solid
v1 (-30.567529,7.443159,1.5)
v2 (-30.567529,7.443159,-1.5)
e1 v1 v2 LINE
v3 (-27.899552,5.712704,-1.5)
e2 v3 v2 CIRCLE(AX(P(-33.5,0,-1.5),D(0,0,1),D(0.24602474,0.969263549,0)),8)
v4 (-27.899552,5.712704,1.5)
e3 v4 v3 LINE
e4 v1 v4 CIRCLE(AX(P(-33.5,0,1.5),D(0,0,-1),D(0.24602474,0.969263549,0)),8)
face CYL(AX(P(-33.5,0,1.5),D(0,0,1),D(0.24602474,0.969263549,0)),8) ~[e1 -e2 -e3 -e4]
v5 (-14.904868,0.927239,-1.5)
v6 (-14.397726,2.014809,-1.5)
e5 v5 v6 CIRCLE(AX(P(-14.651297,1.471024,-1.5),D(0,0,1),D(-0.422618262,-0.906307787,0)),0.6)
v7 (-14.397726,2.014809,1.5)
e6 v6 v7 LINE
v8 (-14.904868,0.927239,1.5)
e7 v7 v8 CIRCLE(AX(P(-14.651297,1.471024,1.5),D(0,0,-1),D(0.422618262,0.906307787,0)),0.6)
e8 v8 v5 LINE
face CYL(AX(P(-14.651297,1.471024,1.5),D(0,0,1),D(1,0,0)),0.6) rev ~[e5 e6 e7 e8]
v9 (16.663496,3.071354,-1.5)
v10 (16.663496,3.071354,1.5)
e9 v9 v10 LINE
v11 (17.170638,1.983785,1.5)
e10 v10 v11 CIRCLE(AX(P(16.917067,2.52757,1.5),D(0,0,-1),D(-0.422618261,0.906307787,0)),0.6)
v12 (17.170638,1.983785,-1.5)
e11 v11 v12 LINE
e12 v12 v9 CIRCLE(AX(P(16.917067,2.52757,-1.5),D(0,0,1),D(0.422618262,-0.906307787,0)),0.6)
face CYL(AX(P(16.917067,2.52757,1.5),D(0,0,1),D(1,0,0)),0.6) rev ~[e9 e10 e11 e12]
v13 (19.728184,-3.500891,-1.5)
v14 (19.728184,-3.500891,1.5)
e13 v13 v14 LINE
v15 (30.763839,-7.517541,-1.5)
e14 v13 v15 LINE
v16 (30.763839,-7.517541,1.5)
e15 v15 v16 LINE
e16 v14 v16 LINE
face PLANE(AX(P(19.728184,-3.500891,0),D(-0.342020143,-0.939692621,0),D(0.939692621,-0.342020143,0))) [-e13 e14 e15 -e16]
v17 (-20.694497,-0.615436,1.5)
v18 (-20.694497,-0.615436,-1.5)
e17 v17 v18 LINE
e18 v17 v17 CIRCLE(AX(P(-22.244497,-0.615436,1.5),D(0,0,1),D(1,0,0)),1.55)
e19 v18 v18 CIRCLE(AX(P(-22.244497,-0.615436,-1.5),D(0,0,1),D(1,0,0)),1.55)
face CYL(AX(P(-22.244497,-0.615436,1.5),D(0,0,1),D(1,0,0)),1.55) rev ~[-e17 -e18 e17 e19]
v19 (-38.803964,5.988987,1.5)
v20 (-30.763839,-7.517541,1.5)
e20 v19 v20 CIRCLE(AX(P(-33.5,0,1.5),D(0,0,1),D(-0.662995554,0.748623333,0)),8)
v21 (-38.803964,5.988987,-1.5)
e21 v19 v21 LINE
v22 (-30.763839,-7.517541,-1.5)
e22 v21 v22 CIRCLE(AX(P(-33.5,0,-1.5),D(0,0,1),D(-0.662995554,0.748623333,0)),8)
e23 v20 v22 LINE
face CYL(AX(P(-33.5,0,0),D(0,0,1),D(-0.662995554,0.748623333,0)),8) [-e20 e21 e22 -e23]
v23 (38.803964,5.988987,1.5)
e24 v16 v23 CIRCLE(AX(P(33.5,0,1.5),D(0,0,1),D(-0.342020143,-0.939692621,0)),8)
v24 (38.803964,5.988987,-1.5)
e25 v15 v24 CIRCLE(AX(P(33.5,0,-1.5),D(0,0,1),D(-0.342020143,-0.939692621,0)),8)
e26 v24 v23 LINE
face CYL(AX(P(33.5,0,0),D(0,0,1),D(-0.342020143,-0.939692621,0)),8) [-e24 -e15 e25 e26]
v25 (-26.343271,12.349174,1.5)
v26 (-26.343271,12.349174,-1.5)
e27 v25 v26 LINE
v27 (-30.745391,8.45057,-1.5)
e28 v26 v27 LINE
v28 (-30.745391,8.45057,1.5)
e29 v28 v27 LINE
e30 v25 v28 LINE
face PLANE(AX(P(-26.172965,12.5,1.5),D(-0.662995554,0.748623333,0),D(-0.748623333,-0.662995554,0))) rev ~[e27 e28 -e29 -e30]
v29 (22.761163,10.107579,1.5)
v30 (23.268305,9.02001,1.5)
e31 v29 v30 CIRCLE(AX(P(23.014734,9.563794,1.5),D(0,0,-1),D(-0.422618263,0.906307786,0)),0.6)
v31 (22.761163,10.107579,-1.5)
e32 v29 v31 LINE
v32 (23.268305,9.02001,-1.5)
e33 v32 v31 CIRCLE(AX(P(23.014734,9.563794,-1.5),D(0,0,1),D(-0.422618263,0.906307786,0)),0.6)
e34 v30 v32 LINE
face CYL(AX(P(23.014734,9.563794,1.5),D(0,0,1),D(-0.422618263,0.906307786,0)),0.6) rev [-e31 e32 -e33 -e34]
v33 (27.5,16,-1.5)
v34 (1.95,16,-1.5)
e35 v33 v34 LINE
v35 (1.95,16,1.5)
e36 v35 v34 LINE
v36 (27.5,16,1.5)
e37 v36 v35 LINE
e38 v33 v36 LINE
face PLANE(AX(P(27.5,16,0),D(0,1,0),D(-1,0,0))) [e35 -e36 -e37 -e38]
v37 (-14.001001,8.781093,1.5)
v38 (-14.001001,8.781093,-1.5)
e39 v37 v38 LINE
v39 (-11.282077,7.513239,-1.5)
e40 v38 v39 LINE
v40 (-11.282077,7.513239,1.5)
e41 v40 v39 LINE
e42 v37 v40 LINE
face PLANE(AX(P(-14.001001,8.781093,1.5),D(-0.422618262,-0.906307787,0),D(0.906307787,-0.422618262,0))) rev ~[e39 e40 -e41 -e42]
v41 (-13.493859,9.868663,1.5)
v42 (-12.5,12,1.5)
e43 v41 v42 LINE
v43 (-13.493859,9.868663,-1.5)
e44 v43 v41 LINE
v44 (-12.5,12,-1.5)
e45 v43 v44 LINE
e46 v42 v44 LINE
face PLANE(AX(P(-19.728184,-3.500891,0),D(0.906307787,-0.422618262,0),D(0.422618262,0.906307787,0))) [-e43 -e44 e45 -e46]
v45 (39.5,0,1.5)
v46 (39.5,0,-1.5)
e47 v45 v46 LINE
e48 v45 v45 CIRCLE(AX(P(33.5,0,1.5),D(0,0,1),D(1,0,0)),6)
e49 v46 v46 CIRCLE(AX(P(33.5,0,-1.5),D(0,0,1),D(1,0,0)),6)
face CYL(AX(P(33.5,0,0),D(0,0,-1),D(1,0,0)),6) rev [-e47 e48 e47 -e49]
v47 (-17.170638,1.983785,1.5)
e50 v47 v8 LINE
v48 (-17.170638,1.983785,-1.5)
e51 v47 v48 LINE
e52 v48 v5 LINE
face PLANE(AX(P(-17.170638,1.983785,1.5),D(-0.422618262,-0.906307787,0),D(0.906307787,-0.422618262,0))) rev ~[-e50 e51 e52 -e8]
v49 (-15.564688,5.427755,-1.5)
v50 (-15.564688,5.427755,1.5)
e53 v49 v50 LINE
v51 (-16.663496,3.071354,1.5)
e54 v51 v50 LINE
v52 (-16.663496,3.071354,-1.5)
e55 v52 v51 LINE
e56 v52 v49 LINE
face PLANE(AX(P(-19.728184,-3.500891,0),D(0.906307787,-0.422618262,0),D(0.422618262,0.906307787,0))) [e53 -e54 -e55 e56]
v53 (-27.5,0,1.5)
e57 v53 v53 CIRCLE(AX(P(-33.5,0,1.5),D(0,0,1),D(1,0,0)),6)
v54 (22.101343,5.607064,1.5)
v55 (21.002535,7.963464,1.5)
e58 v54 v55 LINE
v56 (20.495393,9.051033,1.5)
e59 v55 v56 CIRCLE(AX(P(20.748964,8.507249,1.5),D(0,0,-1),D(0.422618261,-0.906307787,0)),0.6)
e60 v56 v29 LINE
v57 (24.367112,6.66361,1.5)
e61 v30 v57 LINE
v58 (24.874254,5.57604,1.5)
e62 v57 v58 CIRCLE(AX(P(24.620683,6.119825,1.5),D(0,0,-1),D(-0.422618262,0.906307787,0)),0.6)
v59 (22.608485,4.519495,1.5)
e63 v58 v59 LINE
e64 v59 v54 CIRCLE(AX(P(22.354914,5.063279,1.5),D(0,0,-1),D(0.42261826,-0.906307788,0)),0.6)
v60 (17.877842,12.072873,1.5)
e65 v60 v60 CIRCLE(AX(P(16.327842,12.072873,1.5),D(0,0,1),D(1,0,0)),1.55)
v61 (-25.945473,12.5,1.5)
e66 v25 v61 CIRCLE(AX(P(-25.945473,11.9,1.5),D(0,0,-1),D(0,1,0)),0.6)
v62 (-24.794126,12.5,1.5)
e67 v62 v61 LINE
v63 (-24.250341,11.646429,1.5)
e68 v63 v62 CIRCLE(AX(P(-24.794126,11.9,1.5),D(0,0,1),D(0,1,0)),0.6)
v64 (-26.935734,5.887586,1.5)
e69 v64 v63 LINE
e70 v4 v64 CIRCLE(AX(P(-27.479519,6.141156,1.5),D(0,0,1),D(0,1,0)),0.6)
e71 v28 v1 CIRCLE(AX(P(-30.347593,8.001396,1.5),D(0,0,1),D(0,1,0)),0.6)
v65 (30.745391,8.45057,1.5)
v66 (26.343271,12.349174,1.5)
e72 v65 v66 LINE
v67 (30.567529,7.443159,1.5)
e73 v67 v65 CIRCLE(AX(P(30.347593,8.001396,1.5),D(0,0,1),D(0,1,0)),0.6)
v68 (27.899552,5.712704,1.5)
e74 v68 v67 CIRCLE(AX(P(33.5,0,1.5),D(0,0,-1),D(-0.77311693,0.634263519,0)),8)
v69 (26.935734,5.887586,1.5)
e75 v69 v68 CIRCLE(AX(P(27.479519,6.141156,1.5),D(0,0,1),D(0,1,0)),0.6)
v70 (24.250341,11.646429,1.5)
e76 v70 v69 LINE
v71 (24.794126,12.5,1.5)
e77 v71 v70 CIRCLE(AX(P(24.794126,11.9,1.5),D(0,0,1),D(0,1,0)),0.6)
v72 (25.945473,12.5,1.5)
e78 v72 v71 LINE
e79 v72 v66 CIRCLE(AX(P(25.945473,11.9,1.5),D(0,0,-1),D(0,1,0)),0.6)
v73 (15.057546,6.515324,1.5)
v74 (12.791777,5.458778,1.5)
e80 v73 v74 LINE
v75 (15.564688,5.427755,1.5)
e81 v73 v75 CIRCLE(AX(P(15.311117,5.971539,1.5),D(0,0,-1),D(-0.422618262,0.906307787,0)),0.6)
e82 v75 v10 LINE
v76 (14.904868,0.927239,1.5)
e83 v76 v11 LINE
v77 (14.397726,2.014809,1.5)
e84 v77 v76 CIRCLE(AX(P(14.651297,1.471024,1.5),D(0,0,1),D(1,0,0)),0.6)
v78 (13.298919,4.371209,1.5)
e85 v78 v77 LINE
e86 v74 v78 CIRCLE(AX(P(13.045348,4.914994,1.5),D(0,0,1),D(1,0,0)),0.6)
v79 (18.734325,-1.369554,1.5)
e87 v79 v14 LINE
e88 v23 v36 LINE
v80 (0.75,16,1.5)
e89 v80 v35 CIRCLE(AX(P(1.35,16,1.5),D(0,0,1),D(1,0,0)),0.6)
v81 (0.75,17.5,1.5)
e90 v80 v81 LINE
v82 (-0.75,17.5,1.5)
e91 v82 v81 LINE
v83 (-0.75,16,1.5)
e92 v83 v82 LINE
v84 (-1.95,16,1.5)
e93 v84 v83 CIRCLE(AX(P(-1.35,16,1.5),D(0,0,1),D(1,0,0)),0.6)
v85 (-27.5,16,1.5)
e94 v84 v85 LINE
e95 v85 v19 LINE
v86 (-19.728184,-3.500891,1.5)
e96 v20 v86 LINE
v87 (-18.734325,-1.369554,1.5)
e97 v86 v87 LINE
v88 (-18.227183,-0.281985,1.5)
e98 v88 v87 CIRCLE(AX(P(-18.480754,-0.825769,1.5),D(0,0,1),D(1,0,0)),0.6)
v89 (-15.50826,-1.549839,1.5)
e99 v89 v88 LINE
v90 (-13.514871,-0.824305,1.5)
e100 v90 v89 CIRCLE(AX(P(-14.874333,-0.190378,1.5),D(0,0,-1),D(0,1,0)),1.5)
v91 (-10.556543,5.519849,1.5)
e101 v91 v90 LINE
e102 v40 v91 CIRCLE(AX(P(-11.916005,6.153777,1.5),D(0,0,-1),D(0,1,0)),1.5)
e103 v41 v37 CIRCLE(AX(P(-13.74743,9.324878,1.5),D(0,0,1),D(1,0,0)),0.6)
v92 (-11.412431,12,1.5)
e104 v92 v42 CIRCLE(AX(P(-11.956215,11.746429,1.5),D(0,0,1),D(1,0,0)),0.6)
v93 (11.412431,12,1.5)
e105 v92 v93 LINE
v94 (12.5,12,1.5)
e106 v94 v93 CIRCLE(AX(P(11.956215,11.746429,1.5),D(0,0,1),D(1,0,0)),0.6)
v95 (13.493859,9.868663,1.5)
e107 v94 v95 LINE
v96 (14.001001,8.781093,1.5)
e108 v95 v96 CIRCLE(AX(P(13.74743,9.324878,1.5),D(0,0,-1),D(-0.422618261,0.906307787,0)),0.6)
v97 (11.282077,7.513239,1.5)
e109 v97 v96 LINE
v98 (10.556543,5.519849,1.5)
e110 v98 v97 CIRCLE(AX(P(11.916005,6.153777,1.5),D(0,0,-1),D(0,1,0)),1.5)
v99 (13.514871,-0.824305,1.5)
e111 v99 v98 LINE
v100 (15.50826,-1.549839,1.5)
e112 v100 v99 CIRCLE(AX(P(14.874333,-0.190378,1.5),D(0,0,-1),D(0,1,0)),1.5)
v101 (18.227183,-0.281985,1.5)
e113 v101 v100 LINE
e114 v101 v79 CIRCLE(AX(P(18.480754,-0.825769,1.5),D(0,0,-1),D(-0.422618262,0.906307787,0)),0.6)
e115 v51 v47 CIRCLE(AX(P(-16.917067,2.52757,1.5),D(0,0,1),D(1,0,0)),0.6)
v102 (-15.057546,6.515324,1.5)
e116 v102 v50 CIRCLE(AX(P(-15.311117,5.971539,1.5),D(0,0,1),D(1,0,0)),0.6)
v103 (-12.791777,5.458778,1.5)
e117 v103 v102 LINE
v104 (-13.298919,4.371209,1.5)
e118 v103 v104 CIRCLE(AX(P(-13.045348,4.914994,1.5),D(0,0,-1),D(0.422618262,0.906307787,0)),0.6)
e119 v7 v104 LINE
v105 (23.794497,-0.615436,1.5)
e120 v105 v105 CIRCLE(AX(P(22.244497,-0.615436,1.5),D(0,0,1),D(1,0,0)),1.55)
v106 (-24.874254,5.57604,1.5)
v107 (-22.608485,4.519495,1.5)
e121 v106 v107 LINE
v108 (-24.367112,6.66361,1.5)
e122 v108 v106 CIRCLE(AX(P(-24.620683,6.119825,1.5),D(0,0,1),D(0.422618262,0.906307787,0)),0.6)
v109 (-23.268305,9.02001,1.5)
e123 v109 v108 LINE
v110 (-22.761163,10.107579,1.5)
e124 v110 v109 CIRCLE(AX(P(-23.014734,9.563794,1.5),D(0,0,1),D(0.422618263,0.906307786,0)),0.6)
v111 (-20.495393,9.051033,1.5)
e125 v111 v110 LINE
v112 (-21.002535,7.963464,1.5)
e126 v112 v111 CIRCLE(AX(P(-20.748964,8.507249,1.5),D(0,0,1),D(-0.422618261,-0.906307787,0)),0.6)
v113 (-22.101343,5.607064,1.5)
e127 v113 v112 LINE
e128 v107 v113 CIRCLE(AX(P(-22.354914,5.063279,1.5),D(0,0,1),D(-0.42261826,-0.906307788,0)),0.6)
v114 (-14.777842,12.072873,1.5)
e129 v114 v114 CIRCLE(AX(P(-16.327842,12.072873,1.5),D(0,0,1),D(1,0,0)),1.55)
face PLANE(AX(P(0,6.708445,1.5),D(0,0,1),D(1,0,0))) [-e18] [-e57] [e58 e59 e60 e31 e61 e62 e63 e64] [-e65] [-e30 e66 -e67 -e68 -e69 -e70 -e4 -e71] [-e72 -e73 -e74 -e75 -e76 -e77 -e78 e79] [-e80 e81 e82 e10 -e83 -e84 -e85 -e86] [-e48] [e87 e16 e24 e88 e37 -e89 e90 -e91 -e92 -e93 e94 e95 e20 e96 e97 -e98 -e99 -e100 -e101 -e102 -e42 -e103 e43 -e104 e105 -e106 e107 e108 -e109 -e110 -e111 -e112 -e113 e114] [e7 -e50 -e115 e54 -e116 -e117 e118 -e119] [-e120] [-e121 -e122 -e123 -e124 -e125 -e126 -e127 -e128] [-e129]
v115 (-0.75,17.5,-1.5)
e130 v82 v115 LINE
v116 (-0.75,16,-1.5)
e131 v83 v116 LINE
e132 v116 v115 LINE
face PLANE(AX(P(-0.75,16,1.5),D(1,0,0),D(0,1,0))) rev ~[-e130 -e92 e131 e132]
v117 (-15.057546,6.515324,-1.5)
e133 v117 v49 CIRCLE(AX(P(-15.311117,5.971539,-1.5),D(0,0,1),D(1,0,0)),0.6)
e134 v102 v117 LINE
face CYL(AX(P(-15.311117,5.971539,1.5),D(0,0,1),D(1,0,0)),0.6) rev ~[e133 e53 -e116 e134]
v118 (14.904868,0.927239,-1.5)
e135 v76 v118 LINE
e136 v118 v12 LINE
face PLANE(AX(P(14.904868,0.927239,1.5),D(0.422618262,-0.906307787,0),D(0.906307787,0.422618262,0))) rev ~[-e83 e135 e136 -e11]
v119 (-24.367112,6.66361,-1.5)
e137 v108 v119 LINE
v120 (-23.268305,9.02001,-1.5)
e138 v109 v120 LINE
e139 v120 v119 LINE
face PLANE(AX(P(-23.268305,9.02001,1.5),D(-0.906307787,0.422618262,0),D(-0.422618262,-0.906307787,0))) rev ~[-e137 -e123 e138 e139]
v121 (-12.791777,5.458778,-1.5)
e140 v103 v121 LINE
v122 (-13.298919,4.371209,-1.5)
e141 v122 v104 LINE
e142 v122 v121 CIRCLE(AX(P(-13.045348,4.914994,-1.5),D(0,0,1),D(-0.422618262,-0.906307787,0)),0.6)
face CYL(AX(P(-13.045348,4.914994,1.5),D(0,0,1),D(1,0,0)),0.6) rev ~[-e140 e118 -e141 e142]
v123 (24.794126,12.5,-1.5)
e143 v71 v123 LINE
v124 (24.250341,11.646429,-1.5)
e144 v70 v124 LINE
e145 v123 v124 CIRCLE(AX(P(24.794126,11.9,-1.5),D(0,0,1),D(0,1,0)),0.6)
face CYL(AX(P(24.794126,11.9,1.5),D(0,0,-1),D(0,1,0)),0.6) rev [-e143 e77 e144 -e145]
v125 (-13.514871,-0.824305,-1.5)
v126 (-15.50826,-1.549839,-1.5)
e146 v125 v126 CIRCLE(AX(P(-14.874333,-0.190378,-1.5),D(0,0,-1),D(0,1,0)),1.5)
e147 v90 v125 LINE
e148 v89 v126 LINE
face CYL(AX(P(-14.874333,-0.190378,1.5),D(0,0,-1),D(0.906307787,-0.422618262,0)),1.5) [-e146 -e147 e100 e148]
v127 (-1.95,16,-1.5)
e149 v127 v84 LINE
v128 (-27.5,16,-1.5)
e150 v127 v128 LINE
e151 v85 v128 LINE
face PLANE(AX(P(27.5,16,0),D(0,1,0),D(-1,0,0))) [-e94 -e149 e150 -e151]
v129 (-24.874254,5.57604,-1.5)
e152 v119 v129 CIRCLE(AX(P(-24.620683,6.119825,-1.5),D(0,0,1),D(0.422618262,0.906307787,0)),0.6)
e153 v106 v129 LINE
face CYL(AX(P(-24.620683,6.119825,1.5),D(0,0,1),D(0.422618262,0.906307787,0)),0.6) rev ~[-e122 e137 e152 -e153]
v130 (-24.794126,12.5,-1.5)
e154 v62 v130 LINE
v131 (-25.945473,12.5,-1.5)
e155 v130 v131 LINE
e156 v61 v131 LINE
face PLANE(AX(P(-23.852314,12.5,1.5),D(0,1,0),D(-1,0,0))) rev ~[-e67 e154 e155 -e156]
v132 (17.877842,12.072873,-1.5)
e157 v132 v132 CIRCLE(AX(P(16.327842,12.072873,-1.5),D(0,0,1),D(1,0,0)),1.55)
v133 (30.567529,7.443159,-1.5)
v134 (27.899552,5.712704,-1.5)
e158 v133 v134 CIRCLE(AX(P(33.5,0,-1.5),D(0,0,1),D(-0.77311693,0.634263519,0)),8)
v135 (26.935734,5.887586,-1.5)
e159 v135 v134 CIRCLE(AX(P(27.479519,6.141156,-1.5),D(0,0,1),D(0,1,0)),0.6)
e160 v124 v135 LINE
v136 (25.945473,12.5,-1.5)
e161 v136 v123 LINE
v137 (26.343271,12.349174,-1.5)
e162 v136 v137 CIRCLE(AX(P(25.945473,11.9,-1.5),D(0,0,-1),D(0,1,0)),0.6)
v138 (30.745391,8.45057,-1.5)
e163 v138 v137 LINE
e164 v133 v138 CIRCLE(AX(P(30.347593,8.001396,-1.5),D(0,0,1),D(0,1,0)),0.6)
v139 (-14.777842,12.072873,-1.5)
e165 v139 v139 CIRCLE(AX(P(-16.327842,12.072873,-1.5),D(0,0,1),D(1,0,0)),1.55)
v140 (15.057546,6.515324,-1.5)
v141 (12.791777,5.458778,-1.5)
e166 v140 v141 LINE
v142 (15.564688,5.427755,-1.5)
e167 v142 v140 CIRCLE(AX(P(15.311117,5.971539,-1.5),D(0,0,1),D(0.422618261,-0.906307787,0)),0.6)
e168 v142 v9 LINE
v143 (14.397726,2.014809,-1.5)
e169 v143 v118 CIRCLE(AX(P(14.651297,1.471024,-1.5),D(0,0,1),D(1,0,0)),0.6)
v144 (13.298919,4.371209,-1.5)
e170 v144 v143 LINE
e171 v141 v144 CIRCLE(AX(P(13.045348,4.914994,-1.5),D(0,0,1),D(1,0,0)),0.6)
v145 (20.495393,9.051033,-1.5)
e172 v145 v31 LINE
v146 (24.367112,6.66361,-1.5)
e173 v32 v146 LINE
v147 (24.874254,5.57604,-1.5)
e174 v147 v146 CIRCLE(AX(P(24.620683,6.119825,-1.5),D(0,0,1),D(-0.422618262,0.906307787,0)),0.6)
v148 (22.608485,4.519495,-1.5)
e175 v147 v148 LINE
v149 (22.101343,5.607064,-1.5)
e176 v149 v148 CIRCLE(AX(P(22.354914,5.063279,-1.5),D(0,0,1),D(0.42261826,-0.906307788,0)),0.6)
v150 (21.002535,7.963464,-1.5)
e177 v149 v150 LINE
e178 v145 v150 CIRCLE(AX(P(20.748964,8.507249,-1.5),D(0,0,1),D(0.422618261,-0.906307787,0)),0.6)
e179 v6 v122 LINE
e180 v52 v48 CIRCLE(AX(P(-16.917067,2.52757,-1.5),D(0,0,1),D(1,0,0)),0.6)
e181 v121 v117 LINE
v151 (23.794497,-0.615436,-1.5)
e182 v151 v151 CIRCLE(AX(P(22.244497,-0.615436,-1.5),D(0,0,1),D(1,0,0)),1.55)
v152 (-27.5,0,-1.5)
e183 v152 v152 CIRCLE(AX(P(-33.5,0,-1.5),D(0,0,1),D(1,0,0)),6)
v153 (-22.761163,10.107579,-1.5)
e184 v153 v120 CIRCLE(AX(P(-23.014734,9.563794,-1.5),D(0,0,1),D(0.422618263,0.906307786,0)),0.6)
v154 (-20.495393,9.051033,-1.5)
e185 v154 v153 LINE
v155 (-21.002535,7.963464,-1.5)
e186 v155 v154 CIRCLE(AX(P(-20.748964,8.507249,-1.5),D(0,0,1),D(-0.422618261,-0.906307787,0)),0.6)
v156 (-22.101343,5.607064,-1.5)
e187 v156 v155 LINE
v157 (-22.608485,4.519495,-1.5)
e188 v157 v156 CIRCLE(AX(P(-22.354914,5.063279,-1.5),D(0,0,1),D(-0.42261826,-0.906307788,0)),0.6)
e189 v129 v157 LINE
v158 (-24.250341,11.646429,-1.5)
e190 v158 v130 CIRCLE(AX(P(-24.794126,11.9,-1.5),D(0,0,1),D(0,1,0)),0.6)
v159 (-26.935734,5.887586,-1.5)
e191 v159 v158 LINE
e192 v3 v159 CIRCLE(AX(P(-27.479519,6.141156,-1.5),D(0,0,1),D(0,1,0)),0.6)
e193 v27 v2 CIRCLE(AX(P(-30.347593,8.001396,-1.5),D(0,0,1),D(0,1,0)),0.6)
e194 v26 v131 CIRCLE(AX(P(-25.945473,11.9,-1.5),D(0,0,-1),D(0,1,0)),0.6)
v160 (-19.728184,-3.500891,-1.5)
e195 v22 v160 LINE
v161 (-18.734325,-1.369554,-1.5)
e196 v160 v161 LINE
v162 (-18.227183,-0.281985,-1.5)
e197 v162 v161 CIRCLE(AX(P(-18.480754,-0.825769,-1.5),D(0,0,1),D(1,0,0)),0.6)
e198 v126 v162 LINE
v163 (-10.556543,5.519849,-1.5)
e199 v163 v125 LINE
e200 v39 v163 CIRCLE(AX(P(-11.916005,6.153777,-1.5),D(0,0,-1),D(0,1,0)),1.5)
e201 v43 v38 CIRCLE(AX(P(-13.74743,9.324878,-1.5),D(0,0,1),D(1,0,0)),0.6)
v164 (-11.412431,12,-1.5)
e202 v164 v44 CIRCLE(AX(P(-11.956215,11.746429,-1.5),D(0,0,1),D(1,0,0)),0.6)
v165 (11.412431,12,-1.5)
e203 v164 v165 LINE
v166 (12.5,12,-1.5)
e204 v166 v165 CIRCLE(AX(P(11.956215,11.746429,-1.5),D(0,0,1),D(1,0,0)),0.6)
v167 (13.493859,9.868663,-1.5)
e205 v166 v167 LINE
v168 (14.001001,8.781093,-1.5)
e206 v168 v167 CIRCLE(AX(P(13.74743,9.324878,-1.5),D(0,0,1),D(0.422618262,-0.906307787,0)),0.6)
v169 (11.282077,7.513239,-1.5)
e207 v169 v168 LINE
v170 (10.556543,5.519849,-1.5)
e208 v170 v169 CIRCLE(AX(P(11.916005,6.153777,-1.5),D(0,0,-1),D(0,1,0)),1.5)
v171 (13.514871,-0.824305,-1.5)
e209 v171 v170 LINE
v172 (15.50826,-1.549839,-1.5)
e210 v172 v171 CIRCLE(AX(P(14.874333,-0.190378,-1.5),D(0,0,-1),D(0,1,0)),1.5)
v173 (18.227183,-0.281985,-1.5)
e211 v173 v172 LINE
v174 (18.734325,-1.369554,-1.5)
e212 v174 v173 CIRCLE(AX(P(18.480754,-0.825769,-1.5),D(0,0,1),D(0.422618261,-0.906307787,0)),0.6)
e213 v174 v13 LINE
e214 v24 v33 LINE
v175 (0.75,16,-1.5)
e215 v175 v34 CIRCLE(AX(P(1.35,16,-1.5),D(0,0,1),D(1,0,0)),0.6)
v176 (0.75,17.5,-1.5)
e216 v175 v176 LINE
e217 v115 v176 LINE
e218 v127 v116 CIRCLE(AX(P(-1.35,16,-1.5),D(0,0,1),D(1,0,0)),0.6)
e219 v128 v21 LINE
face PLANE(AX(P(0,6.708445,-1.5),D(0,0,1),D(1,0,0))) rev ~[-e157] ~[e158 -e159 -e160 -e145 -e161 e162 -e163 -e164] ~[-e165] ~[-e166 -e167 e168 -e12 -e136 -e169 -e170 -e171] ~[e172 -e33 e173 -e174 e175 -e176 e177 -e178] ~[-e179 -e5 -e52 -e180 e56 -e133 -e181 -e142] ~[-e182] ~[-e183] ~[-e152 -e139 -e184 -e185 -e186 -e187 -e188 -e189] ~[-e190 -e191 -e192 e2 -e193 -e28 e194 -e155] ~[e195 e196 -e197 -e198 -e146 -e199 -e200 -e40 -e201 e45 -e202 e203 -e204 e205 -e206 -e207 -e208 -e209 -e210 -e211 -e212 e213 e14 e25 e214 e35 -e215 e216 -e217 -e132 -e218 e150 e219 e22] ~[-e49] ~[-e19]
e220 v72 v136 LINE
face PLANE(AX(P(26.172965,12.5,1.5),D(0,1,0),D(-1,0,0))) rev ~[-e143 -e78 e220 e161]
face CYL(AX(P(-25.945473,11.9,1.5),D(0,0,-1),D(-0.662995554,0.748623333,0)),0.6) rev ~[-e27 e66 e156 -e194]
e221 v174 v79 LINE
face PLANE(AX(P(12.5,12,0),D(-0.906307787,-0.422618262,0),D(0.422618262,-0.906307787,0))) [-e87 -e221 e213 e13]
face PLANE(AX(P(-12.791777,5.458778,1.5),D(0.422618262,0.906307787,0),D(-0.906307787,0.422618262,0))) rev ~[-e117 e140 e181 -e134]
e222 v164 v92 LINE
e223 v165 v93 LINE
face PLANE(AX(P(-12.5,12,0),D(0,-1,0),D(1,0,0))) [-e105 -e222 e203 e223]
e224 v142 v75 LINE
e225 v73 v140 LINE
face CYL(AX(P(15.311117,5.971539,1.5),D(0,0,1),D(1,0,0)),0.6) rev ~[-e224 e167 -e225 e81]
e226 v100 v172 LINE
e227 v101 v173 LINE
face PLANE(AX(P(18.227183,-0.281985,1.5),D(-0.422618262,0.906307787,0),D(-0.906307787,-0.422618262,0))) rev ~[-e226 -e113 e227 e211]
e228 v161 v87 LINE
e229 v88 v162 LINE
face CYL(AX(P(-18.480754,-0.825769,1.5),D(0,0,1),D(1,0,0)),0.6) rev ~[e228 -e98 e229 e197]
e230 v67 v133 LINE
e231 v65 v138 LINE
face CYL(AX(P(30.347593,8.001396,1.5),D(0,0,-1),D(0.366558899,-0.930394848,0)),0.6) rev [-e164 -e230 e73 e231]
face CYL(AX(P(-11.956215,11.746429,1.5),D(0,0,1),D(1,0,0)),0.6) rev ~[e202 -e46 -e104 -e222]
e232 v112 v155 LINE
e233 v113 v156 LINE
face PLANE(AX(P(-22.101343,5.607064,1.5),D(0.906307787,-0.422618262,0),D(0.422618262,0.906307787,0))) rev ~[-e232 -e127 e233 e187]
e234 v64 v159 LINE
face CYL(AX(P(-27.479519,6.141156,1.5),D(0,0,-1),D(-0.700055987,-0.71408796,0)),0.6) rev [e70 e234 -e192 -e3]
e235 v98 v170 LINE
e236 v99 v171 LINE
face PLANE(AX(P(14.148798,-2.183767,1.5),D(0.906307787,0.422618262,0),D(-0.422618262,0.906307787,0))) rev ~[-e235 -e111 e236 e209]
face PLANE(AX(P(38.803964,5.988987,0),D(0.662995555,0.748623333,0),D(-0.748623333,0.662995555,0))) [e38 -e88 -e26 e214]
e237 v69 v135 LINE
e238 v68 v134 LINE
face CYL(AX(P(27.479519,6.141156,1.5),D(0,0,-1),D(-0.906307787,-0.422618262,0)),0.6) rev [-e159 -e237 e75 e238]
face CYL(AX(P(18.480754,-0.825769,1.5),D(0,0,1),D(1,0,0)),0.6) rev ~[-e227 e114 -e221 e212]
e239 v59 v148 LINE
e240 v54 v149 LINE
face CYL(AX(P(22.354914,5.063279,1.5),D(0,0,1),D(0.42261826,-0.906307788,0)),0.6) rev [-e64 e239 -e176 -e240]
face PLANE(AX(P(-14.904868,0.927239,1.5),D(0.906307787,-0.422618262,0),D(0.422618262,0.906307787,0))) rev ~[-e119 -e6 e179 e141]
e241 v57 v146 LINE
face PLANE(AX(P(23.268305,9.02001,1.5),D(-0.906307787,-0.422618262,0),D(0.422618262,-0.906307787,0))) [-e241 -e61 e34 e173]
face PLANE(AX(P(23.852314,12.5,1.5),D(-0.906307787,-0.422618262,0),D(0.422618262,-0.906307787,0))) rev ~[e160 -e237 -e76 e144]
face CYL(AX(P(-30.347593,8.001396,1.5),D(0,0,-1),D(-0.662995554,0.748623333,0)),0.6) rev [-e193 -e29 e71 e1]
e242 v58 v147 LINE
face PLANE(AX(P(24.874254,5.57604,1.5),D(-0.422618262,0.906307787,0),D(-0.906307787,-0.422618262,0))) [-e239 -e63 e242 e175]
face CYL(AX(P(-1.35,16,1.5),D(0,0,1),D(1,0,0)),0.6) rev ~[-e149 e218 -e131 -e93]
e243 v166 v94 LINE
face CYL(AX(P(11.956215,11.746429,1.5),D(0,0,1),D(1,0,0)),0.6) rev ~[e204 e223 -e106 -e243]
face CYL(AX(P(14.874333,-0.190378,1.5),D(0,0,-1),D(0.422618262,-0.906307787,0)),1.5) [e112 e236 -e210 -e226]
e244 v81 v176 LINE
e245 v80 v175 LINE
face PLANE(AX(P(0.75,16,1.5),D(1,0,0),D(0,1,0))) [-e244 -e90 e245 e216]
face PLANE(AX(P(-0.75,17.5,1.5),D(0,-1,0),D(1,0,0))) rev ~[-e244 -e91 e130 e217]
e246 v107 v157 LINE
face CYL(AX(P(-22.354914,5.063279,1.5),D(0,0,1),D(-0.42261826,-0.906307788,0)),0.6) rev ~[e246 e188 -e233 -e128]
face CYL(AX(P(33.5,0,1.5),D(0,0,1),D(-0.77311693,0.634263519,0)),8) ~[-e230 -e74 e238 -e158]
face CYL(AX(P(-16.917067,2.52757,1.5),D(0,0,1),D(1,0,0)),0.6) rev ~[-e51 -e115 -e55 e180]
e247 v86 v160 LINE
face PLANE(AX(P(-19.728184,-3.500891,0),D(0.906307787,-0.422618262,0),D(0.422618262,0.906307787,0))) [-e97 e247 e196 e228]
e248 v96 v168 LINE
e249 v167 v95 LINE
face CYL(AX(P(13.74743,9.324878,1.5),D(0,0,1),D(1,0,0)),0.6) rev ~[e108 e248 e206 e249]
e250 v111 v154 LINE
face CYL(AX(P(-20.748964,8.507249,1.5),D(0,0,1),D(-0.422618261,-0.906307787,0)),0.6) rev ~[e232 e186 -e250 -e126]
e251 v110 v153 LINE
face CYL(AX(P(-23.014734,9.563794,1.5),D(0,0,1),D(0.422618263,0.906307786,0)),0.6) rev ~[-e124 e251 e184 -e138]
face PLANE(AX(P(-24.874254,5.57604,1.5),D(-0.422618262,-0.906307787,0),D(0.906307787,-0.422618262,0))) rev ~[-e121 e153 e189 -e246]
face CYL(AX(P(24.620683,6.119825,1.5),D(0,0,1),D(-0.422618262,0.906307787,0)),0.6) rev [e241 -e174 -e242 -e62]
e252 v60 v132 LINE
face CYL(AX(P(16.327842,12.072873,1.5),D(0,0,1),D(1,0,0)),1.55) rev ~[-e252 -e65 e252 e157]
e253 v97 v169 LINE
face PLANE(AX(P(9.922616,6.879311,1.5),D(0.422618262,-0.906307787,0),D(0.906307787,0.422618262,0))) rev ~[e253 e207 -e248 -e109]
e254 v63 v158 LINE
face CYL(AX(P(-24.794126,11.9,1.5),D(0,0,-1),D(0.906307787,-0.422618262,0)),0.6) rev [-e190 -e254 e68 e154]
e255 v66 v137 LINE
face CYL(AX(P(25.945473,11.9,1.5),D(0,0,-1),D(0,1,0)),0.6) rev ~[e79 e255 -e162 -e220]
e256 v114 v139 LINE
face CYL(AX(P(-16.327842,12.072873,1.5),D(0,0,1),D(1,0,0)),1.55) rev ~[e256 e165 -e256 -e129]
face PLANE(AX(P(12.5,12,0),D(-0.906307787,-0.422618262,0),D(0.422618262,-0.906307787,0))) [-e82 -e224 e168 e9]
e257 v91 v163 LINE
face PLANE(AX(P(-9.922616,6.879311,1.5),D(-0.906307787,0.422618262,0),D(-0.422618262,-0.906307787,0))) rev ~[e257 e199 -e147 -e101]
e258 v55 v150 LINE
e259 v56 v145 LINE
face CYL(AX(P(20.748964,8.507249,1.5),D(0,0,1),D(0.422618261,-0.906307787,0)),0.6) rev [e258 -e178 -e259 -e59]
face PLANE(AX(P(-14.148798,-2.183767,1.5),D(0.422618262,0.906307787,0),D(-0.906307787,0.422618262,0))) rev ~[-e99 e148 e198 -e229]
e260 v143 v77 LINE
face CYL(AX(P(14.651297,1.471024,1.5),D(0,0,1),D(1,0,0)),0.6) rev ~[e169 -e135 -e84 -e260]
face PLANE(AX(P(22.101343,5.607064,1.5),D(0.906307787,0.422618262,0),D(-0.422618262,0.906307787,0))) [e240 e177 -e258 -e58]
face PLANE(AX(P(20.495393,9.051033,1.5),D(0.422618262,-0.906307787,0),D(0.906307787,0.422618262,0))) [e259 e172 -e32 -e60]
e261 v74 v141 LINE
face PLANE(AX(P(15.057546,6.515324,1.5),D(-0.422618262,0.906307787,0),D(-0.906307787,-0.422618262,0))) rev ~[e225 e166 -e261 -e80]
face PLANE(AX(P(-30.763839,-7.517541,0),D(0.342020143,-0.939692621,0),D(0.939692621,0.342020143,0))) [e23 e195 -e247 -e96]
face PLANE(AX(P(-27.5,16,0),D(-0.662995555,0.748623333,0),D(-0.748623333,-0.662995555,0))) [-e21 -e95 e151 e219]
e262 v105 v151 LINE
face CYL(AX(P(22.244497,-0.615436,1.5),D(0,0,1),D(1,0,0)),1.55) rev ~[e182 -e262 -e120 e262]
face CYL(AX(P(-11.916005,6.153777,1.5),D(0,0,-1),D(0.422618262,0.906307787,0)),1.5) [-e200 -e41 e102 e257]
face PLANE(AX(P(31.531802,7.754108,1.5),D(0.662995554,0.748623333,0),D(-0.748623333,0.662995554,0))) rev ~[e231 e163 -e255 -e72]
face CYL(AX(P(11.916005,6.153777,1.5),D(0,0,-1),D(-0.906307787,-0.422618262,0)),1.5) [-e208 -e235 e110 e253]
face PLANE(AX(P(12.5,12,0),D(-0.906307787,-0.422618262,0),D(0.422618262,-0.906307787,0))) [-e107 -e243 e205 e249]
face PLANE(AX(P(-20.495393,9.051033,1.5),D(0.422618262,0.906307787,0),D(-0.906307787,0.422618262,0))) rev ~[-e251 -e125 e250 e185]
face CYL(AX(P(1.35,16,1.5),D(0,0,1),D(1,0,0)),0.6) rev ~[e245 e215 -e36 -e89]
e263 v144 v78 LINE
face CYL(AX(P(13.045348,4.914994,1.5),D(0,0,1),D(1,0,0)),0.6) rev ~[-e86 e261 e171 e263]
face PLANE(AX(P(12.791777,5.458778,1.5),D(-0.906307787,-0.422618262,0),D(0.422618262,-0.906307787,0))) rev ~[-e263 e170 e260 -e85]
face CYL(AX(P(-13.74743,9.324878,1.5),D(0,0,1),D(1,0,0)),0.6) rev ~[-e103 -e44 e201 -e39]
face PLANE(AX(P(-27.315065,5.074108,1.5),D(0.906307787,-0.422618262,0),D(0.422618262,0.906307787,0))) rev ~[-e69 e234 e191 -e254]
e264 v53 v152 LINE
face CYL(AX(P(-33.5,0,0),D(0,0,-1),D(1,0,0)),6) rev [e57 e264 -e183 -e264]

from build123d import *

# Parameters (mm, degrees)
SKETCH_1_R          = 6
EXTRUDE_1_DEPTH     = 1.5
EXTRUDE_2_DEPTH     = 3
SKETCH_6_R          = 0.6
CUT_EXTRUDE_2_DEPTH = 4
FILLET_1_R          = 1.5
SKETCH_7_R          = 1.55
CUT_EXTRUDE_3_DEPTH = 4
CUT_EXTRUDE_4_DEPTH = 4
FILLET_2_R          = 0.6
SKETCH_9_W          = 1.5
SKETCH_9_H          = 1.5
EXTRUDE_3_DEPTH     = 3
SKETCH_10_R         = 0.6
CUT_EXTRUDE_5_DEPTH = 4


with BuildPart() as part:
    # 草图1 → 凸台-拉伸1 (new body, symmetric)
    with BuildSketch(Plane.XY):
        with BuildLine():
            Line((-12.5, 12), (12.5, 12))
            Line((12.5, 12), (19.728184266, -3.500891181))
            Line((19.728184266, -3.500891181), (30.763838853, -7.517540966))
            ThreePointArc((30.763838853, -7.517540966), (40.374225454, -4.092068476), (38.803964436, 5.988986664))
            Line((38.803964436, 5.988986664), (27.5, 16))
            Line((27.5, 16), (-27.5, 16))
            Line((-27.5, 16), (-38.803964436, 5.988986664))
            ThreePointArc((-38.803964436, 5.988986664), (-40.374225454, -4.092068476), (-30.763838853, -7.517540966))
            Line((-30.763838853, -7.517540966), (-19.728184266, -3.500891181))
            Line((-19.728184266, -3.500891181), (-12.5, 12))
        make_face()
        with Locations((-33.5, 0)):
            Circle(SKETCH_1_R, mode=Mode.SUBTRACT)
        with Locations((33.5, 0)):
            Circle(SKETCH_1_R, mode=Mode.SUBTRACT)
    extrude(amount=EXTRUDE_1_DEPTH, both=True)

    # 草图5 → 凸台-拉伸2 (add)
    with BuildSketch(Plane.XY.offset(1.5)):
        Polygon((-14.001000824, 8.781093345), (-9.922615783, 6.879311167), (-14.1487984, -2.183766703), (-18.227183442, -0.281984526), (-17.170637787, 1.983784942), (-14.90486832, 0.927239288), (-12.791777011, 5.458778223), (-15.057546479, 6.515323877), align=None)
        Polygon((14.90486832, 0.927239288), (17.170637787, 1.983784942), (18.227183442, -0.281984526), (14.1487984, -2.183766703), (9.922615783, 6.879311167), (14.001000824, 8.781093345), (15.057546479, 6.515323877), (12.791777011, 5.458778223), align=None)
    extrude(amount=-EXTRUDE_2_DEPTH)

    # 草图6 → 切除-拉伸2 (cut, through all)
    with BuildSketch(Plane.XY.offset(1.5)):
        with Locations((-15.311117436, 5.971539205)):
            Circle(SKETCH_6_R)
        with Locations((-13.045347968, 4.914993551)):
            Circle(SKETCH_6_R)
        with Locations((-16.91706683, 2.527569614)):
            Circle(SKETCH_6_R)
        with Locations((-14.651297363, 1.47102396)):
            Circle(SKETCH_6_R)
        with Locations((-13.747429867, 9.324878017)):
            Circle(SKETCH_6_R)
        with Locations((-18.480754399, -0.825769198)):
            Circle(SKETCH_6_R)
        with Locations((18.480754399, -0.825769198)):
            Circle(SKETCH_6_R)
        with Locations((13.747429867, 9.324878017)):
            Circle(SKETCH_6_R)
        with Locations((14.651297363, 1.47102396)):
            Circle(SKETCH_6_R)
        with Locations((16.91706683, 2.527569614)):
            Circle(SKETCH_6_R)
        with Locations((13.045347968, 4.914993551)):
            Circle(SKETCH_6_R)
        with Locations((15.311117436, 5.971539205)):
            Circle(SKETCH_6_R)
        with Locations((-11.956215328, 11.746429043)):
            Circle(SKETCH_6_R)
        with Locations((11.956215328, 11.746429043)):
            Circle(SKETCH_6_R)
    extrude(amount=-CUT_EXTRUDE_2_DEPTH, mode=Mode.SUBTRACT)

    # 圆角1
    fillet_1_edges = [part.edges().sort_by_distance(p)[0] for p in [
        (-9.922615783, 6.879311167, 0),
        (-14.1487984, -2.183766703, 0),
        (14.1487984, -2.183766703, 0),
        (9.922615783, 6.879311167, 0),
    ]]
    fillet(fillet_1_edges, radius=FILLET_1_R)

    # 草图7 → 切除-拉伸3 (cut, through all)
    with BuildSketch(Plane.XY.offset(1.5)):
        with Locations((-22.24449722, -0.615436184)):
            Circle(SKETCH_7_R)
        with Locations((-16.327841555, 12.072872835)):
            Circle(SKETCH_7_R)
        with Locations((22.24449722, -0.615436184)):
            Circle(SKETCH_7_R)
        with Locations((16.327841555, 12.072872835)):
            Circle(SKETCH_7_R)
    extrude(amount=-CUT_EXTRUDE_3_DEPTH, mode=Mode.SUBTRACT)

    # 草图8 → 切除-拉伸4 (cut, through all)
    with BuildSketch(Plane.XY.offset(1.5)):
        with BuildLine():
            Line((-26.172964956, 12.5), (-31.531802084, 7.754108393))
            ThreePointArc((-31.531802084, 7.754108393), (-29.20884675, 6.751740797), (-27.315064556, 5.074108154))
            Line((-27.315064556, 5.074108154), (-23.85231432, 12.5))
            Line((-23.85231432, 12.5), (-26.172964956, 12.5))
        make_face()
        with BuildLine():
            Line((-22.101342595, 5.607063857), (-21.002535115, 7.963464103))
            ThreePointArc((-21.002535115, 7.963464103), (-20.205179486, 8.253677818), (-20.495393201, 9.051033448))
            Line((-20.495393201, 9.051033448), (-22.761162668, 10.107579102))
            ThreePointArc((-22.761162668, 10.107579102), (-23.558518298, 9.817365387), (-23.268304582, 9.020009758))
            Line((-23.268304582, 9.020009758), (-24.367112063, 6.663609511))
            ThreePointArc((-24.367112063, 6.663609511), (-25.164467692, 6.373395796), (-24.874253977, 5.576040167))
            Line((-24.874253977, 5.576040167), (-22.608484509, 4.519494512))
            ThreePointArc((-22.608484509, 4.519494512), (-21.81112888, 4.809708228), (-22.101342595, 5.607063857))
        make_face()
        with BuildLine():
            Line((24.874253977, 5.576040167), (22.608484509, 4.519494512))
            ThreePointArc((22.608484509, 4.519494512), (21.81112888, 4.809708228), (22.101342595, 5.607063857))
            Line((22.101342595, 5.607063857), (21.002535115, 7.963464103))
            ThreePointArc((21.002535115, 7.963464103), (20.205179486, 8.253677818), (20.495393201, 9.051033448))
            Line((20.495393201, 9.051033448), (22.761162668, 10.107579102))
            ThreePointArc((22.761162668, 10.107579102), (23.558518298, 9.817365387), (23.268304582, 9.020009758))
            Line((23.268304582, 9.020009758), (24.367112063, 6.663609511))
            ThreePointArc((24.367112063, 6.663609511), (25.164467692, 6.373395796), (24.874253977, 5.576040167))
        make_face()
        with BuildLine():
            Line((26.172964956, 12.5), (23.85231432, 12.5))
            Line((23.85231432, 12.5), (27.315064556, 5.074108154))
            ThreePointArc((27.315064556, 5.074108154), (29.20884675, 6.751740797), (31.531802084, 7.754108393))
            Line((31.531802084, 7.754108393), (26.172964956, 12.5))
        make_face()
    extrude(amount=-CUT_EXTRUDE_4_DEPTH, mode=Mode.SUBTRACT)

    # 圆角2
    fillet_2_edges = [part.edges().sort_by_distance(p)[0] for p in [
        (26.172964956, 12.5, 0),
        (31.531802084, 7.754108393, 0),
        (27.315064556, 5.074108154, 0),
        (23.85231432, 12.5, 0),
        (-26.172964956, 12.5, 0),
        (-23.85231432, 12.5, 0),
        (-27.315064556, 5.074108154, 0),
        (-31.531802084, 7.754108393, 0),
    ]]
    fillet(fillet_2_edges, radius=FILLET_2_R)

    # 草图9 → 凸台-拉伸3 (add)
    with BuildSketch(Plane.XY.offset(1.5)):
        with Locations((0, 16.75)):
            Rectangle(SKETCH_9_W, SKETCH_9_H)
    extrude(amount=-EXTRUDE_3_DEPTH)

    # 草图10 → 切除-拉伸5 (cut, through all)
    with BuildSketch(Plane.XY.offset(1.5)):
        with Locations((1.35, 16)):
            Circle(SKETCH_10_R)
        with Locations((-1.35, 16)):
            Circle(SKETCH_10_R)
    extrude(amount=-CUT_EXTRUDE_5_DEPTH, mode=Mode.SUBTRACT)


solid = part.part
